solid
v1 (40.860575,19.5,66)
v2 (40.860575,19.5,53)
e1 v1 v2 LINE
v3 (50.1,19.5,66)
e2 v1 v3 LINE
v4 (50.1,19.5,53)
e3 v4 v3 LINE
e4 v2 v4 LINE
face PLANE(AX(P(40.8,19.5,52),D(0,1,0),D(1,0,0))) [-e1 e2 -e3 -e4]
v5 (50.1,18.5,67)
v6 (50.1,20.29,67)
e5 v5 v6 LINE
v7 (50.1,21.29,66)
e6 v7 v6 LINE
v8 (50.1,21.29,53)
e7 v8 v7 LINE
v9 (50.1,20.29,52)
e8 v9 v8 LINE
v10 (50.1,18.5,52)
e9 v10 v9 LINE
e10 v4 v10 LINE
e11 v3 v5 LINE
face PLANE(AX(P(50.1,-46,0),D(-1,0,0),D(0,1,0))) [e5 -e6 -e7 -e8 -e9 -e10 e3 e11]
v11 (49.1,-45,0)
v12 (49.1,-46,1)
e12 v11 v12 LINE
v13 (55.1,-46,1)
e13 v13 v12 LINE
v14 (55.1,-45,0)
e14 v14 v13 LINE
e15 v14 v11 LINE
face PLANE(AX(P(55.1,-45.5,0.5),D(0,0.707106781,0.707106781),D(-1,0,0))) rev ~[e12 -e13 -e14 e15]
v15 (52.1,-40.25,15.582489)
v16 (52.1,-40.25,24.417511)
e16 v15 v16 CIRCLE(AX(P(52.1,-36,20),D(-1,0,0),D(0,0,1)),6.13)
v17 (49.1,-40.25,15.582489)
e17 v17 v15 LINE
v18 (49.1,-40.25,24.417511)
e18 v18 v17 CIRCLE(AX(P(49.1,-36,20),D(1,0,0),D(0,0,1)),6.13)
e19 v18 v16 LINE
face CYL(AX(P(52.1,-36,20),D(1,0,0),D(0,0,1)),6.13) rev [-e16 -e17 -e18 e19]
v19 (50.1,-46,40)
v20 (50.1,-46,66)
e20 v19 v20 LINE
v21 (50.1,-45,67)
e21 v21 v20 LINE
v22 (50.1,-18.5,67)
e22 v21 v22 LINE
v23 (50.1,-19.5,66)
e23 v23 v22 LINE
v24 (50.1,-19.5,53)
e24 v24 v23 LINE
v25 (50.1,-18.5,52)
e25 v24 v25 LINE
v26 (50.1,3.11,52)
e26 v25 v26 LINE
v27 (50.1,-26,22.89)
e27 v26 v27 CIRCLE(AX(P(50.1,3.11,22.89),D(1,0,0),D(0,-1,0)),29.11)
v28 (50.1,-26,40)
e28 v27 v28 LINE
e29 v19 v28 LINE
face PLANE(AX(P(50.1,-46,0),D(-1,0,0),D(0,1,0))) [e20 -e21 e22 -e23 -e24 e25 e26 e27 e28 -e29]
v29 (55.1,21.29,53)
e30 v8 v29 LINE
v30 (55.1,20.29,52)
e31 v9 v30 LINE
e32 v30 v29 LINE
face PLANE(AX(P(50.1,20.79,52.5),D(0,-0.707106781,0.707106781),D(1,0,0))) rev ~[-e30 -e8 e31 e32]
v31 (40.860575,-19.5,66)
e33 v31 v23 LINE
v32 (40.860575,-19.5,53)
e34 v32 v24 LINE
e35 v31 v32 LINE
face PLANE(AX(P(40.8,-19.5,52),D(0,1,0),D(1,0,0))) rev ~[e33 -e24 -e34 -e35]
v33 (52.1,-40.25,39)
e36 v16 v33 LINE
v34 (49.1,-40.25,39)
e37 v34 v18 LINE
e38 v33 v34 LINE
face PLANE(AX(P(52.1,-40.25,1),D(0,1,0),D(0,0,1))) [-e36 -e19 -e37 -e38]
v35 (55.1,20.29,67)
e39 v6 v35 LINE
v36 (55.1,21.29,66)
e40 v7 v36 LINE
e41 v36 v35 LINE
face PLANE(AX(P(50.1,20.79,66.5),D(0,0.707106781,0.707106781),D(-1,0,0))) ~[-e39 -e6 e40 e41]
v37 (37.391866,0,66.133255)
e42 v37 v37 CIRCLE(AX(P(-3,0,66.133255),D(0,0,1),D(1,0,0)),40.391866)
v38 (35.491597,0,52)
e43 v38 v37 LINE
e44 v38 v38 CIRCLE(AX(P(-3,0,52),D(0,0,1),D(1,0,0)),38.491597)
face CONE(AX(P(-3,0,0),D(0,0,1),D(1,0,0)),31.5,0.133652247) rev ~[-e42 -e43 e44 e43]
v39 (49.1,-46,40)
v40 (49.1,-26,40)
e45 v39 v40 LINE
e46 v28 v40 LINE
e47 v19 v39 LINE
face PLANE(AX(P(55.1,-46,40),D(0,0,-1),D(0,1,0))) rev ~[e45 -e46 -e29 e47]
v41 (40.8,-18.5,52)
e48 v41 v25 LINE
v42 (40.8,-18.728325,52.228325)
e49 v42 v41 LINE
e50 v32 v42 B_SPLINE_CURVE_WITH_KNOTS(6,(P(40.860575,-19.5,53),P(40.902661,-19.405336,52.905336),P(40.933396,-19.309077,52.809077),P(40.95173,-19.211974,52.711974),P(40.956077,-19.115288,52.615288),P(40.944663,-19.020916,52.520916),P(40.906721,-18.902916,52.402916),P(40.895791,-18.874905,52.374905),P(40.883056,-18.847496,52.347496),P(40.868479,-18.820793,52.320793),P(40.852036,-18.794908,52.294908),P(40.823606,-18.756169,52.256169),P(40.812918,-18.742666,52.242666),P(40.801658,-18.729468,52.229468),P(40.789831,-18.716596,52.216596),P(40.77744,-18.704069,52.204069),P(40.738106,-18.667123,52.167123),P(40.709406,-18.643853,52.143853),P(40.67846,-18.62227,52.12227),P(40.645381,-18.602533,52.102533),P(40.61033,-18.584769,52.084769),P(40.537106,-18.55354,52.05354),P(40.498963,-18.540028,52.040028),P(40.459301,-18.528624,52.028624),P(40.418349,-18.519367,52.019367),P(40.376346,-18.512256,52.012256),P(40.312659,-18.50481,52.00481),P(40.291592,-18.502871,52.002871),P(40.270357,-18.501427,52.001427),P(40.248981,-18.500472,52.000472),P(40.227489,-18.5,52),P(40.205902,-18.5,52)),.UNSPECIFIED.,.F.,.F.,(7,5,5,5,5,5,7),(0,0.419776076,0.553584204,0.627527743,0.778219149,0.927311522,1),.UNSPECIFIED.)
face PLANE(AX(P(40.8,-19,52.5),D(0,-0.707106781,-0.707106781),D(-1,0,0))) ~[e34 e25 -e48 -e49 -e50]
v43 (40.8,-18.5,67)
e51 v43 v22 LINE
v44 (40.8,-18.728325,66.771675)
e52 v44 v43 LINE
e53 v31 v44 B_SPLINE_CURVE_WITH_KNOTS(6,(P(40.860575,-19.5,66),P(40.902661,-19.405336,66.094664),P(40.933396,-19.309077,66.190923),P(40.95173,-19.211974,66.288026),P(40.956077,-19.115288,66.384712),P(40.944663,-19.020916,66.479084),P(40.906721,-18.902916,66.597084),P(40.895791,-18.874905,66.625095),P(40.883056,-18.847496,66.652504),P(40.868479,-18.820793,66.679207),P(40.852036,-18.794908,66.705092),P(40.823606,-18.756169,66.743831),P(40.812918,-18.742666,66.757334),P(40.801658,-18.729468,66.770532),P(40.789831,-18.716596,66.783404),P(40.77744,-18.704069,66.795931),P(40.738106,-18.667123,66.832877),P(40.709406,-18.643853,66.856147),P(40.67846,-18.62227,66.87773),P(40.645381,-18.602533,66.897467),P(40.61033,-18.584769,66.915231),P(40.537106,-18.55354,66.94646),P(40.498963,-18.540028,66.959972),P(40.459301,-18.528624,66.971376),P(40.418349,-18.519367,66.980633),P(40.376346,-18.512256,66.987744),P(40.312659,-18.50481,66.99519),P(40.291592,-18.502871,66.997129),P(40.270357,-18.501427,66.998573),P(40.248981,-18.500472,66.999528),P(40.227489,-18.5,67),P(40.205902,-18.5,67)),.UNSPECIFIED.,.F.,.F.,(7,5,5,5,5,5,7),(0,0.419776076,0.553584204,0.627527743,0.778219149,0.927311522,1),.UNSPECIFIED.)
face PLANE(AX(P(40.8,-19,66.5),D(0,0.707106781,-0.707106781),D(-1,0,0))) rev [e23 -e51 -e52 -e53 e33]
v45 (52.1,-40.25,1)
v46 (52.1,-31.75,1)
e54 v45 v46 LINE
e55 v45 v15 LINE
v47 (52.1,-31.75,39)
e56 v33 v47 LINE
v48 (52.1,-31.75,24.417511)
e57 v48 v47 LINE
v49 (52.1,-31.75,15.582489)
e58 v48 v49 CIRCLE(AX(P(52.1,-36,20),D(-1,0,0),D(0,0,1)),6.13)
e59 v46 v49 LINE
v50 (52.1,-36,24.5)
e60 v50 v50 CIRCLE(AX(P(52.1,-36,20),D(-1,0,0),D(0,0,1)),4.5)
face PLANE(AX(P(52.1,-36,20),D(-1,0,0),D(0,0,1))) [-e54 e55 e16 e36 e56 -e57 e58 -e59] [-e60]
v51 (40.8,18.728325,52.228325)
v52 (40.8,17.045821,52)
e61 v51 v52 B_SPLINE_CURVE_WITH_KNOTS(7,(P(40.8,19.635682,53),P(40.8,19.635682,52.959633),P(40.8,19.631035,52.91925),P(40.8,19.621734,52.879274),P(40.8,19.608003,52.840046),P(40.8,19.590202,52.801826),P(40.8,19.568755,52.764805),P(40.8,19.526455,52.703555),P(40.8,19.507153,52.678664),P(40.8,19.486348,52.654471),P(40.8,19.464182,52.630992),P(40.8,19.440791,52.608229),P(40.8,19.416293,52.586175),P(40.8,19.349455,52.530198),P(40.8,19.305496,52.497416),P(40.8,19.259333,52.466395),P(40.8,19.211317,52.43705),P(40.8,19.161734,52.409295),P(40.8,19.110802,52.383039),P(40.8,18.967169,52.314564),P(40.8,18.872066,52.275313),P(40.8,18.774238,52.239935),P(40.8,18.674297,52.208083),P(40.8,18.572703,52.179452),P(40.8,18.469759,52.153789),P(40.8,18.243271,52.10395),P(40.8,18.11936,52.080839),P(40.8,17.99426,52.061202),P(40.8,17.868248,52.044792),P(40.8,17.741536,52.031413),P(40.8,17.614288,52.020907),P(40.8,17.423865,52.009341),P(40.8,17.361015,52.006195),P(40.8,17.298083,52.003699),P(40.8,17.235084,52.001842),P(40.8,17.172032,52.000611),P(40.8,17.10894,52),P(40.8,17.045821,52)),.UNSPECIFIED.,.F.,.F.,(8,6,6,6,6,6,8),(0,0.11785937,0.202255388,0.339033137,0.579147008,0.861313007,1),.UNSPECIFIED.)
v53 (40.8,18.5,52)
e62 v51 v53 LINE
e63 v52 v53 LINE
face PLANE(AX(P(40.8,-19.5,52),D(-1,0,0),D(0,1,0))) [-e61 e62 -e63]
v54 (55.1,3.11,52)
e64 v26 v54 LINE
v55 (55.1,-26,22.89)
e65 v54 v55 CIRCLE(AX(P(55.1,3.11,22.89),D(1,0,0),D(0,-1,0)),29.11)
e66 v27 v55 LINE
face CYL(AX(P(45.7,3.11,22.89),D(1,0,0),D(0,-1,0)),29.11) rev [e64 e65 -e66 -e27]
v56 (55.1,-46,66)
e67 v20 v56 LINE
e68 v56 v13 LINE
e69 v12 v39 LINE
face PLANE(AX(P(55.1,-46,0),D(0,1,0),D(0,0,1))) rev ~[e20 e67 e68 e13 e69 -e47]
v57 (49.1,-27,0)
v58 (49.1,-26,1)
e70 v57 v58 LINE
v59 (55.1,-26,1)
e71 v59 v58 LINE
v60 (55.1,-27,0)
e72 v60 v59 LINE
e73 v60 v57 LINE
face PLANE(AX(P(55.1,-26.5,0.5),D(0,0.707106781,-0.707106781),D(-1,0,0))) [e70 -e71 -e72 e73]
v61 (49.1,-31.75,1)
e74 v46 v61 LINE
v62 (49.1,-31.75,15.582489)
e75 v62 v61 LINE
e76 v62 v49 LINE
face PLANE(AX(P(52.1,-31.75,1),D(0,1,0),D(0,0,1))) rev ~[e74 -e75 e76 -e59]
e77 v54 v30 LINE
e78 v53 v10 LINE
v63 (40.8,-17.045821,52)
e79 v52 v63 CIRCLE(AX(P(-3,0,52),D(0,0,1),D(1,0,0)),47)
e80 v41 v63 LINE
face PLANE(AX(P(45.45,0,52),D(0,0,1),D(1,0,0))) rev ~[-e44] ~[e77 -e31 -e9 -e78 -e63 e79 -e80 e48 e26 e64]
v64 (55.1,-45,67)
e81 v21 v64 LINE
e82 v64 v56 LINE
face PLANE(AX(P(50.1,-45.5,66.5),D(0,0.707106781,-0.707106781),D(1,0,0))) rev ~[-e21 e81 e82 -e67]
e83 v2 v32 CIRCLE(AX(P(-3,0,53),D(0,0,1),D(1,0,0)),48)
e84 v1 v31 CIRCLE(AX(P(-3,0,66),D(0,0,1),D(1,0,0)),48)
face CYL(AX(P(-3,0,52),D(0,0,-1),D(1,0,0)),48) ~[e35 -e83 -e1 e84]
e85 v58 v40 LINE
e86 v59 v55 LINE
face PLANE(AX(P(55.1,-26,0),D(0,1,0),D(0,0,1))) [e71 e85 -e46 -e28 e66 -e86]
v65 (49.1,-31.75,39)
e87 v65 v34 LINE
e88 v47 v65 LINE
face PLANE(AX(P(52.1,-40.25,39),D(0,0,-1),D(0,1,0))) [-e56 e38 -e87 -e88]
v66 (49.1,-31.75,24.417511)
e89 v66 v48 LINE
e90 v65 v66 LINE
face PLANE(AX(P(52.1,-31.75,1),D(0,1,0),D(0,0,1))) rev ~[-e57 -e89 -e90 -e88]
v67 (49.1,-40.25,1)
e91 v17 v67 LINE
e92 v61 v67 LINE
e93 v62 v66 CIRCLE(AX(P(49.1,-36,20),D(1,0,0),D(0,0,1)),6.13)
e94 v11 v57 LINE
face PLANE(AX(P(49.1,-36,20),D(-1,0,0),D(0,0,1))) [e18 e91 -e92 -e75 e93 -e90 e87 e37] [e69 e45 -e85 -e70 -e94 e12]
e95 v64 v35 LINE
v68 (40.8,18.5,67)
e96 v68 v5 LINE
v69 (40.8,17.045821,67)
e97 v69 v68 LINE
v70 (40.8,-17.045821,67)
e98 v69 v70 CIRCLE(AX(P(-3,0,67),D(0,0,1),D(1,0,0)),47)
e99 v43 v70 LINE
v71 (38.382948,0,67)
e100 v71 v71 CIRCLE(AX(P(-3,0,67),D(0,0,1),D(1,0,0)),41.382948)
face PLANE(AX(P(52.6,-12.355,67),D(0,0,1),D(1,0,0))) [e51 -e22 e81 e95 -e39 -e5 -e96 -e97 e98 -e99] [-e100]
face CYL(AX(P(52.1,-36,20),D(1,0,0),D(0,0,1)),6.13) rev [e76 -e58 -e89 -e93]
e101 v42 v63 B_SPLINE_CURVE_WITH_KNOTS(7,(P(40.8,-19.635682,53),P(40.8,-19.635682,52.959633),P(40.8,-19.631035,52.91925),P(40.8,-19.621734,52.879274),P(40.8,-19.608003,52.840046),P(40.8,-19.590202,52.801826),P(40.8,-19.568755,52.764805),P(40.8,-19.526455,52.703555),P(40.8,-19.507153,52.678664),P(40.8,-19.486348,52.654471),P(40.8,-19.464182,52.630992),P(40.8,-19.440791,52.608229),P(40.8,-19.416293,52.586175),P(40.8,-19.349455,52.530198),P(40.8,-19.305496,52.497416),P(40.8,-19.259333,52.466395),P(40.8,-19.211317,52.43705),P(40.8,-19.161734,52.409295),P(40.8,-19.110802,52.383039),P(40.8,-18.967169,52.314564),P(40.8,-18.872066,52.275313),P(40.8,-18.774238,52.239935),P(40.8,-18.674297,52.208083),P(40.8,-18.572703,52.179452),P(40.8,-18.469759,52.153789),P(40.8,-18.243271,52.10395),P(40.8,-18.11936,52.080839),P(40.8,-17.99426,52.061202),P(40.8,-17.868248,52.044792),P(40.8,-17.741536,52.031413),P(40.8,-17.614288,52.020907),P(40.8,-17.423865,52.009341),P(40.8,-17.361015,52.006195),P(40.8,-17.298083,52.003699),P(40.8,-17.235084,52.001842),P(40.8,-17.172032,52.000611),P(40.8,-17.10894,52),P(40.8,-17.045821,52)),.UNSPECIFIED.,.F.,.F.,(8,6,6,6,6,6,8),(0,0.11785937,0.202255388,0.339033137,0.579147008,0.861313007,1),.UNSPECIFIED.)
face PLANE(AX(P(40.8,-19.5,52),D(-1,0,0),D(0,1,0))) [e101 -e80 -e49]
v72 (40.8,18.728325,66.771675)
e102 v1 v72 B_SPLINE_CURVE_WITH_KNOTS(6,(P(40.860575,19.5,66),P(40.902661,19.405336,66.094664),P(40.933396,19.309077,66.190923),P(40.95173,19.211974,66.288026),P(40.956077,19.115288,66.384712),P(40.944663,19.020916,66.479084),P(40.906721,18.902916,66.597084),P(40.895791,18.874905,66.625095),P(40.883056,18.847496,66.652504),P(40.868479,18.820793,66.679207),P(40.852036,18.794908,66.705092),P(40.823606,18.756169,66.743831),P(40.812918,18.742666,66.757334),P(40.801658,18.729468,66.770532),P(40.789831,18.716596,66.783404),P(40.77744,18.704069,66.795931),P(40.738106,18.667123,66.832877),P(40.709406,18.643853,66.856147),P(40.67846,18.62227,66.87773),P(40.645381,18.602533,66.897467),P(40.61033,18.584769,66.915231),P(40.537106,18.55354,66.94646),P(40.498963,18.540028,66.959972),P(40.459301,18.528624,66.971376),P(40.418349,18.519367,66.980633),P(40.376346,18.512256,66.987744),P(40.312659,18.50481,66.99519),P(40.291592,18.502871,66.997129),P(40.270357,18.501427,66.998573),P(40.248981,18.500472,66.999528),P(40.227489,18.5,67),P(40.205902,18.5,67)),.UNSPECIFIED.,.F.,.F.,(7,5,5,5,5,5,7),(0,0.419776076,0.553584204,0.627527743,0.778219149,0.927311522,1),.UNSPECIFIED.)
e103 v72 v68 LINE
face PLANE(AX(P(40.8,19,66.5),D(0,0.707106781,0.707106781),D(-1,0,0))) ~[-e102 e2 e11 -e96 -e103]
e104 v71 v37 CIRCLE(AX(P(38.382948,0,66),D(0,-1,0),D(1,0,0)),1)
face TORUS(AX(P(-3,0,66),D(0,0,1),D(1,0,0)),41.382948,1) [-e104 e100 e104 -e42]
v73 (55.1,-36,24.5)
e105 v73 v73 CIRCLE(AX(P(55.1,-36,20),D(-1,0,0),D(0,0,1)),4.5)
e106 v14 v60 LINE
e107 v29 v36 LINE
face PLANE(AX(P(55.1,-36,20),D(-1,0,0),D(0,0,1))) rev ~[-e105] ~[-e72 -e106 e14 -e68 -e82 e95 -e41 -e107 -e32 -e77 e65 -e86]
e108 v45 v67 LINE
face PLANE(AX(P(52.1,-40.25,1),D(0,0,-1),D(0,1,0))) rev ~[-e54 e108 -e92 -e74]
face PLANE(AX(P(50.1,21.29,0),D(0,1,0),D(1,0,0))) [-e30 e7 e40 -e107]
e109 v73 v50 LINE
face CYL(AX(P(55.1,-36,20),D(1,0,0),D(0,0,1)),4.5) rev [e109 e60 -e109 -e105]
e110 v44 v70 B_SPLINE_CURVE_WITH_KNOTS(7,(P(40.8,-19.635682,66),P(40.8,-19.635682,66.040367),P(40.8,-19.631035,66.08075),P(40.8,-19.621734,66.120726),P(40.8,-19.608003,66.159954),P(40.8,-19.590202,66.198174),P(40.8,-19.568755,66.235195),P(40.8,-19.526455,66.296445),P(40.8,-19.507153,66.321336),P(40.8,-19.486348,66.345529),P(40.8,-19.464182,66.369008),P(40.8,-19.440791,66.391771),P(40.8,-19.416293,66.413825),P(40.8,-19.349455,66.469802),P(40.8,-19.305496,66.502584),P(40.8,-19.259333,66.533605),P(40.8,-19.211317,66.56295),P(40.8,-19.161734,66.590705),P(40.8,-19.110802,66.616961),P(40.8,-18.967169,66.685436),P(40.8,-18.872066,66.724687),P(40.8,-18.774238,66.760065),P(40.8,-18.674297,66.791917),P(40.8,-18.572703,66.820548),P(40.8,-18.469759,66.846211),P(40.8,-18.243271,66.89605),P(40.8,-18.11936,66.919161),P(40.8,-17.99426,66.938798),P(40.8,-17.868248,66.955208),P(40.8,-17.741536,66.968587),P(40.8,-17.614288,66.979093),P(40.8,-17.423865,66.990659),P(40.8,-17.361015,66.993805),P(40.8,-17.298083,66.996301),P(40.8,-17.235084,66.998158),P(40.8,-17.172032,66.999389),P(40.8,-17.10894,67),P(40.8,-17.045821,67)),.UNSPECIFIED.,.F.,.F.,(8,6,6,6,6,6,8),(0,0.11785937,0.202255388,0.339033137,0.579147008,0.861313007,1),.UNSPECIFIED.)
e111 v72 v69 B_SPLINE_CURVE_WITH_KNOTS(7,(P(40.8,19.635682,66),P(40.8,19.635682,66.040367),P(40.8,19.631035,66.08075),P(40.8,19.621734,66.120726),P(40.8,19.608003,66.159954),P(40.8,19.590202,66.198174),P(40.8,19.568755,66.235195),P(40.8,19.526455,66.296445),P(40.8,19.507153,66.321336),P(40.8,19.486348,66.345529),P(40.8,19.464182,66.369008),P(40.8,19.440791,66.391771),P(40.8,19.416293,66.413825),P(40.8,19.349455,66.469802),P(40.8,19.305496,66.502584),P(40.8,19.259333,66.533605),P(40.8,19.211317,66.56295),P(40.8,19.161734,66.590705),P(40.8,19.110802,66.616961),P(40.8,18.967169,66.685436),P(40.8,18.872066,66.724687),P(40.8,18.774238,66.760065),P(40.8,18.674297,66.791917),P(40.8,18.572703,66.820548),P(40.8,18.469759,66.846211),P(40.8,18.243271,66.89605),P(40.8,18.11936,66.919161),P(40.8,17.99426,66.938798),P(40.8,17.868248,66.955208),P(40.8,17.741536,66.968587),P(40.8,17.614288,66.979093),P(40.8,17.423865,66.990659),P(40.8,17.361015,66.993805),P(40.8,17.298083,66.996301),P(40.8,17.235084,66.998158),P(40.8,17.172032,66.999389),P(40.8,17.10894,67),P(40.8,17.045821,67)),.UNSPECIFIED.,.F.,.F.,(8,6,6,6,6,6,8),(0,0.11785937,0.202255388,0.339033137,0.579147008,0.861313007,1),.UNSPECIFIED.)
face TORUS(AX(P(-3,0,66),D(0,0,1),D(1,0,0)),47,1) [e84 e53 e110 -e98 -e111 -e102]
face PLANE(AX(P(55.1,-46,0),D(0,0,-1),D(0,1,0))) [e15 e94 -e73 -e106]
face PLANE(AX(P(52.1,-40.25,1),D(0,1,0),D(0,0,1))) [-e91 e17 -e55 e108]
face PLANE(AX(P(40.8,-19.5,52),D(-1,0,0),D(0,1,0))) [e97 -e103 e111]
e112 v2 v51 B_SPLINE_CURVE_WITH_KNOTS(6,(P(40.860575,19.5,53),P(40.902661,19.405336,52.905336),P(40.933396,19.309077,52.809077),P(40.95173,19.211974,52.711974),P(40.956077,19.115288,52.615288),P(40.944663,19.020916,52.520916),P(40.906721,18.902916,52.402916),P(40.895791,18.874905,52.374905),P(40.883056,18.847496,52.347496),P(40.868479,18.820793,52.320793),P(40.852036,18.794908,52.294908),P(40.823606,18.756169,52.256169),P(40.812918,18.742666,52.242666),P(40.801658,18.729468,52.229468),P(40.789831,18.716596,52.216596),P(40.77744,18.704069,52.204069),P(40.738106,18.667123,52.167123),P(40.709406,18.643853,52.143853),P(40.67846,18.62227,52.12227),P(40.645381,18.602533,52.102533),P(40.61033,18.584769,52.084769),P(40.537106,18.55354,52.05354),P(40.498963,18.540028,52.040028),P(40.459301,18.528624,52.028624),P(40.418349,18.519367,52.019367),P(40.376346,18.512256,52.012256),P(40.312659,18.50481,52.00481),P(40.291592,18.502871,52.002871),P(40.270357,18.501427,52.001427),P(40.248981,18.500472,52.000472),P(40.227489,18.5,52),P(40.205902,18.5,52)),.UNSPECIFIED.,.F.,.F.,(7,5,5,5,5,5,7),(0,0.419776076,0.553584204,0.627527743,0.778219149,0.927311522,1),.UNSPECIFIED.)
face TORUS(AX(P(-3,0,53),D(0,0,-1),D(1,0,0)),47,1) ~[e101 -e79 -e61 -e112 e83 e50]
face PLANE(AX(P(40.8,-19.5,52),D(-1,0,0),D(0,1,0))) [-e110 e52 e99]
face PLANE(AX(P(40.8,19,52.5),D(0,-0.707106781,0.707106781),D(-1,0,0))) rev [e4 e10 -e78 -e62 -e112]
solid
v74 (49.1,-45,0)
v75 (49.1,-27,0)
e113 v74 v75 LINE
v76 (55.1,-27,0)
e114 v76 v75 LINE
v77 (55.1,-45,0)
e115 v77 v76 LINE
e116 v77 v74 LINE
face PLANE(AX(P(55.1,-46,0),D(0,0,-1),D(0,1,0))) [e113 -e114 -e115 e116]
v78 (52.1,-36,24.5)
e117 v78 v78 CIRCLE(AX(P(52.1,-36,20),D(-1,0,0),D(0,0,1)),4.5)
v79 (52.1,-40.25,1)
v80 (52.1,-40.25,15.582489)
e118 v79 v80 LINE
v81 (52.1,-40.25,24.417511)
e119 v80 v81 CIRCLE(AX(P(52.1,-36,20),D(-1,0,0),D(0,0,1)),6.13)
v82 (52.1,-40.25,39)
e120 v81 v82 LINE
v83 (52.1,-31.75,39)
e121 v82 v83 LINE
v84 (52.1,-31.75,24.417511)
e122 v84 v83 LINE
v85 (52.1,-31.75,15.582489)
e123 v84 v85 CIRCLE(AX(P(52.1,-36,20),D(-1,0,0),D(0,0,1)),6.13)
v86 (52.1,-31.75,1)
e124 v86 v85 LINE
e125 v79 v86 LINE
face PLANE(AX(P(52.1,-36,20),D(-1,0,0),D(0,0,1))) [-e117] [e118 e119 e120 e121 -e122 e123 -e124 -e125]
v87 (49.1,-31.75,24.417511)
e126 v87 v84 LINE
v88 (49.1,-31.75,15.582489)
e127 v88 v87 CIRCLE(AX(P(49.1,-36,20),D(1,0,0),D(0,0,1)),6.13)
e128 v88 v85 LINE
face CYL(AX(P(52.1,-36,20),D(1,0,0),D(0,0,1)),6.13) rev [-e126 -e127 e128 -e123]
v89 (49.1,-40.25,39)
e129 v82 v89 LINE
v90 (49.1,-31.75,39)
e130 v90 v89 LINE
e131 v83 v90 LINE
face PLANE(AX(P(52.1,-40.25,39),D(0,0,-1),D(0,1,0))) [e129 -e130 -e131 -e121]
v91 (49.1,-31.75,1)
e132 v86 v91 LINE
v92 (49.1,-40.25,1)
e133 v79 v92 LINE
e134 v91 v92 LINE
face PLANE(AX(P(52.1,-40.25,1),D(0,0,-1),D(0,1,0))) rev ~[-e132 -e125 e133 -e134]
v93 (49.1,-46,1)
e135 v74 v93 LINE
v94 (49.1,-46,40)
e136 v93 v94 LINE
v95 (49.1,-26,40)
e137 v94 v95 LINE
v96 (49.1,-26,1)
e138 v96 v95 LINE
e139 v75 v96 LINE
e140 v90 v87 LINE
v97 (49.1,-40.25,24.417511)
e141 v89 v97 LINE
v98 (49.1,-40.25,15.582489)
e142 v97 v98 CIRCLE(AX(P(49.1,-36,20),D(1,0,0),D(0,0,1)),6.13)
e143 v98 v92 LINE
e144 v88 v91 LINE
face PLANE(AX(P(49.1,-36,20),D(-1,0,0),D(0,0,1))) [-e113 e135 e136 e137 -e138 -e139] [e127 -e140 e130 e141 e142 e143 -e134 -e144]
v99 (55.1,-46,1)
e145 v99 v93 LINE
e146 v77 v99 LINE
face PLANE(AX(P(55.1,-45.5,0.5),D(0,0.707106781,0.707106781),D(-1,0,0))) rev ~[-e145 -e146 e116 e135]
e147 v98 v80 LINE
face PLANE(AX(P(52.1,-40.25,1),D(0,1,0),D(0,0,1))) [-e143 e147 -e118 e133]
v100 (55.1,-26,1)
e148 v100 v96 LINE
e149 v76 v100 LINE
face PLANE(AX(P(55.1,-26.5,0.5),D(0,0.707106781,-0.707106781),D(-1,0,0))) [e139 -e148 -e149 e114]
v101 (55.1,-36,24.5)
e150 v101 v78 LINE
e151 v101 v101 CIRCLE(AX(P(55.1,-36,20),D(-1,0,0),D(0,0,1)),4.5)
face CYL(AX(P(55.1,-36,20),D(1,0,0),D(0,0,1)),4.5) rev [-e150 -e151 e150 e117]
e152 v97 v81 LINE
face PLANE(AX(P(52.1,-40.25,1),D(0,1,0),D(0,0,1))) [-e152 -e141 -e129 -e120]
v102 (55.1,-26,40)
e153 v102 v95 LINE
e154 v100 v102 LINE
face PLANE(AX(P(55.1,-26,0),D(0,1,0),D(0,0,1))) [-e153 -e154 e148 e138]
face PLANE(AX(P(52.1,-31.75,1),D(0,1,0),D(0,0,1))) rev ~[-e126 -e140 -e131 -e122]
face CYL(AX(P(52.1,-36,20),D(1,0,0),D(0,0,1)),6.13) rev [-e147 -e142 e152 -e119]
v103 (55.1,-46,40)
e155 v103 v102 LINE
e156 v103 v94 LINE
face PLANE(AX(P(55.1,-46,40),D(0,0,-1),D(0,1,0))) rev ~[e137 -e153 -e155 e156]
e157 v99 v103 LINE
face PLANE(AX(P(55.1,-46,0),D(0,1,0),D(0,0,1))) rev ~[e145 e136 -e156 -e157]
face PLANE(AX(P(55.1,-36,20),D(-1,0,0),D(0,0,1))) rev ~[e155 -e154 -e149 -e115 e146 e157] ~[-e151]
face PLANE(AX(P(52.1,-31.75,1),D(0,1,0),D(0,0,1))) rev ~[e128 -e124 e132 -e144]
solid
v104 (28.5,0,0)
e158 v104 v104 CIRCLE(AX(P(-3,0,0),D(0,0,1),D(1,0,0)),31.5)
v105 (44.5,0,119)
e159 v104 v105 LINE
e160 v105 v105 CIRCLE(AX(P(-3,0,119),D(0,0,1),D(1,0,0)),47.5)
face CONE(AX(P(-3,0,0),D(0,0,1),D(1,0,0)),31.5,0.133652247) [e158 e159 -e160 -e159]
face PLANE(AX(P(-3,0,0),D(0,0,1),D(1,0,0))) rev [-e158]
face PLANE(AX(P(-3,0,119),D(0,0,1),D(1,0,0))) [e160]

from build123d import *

# Parameters (mm, degrees)
BOX008_W               = 38
BOX008_H               = 8.5
BOX008_DEPTH           = 10
CYLINDER003_R          = 6.13
CYLINDER003_DEPTH      = 10
CYLINDER002_R          = 4.5
CYLINDER002_DEPTH      = 10
BOX007_W               = 40
BOX007_H               = 20
BOX007_DEPTH           = 6
CUT009_PLACEMENT_ANGLE = 90
CHAMFER005_SIZE        = 1
BOX005_W               = 38
BOX005_H               = 8.5
BOX005_DEPTH           = 10
CYLINDER001_R          = 6.13
CYLINDER001_DEPTH      = 10
CYLINDER_R             = 4.5
CYLINDER_DEPTH         = 10
BOX004_W               = 40
BOX004_H               = 20
BOX004_DEPTH           = 6
CUT005_PLACEMENT_ANGLE = 90
CHAMFER_SIZE           = 1
TUBE_R                 = 48
TUBE_R_2               = 38
TUBE_DEPTH             = 15
FILLET_R               = 1
BOX003_W               = 10.4
BOX003_H               = 58.22
BOX003_DEPTH           = 52
FILLET001_R            = 29.11
BOX002_W               = 6
BOX002_H               = 20
BOX002_DEPTH           = 40
BOX_W                  = 5
BOX_H                  = 67.29
BOX_DEPTH              = 67
CHAMFER004_SIZE        = 1
BOX006_W               = 9.3
BOX006_H               = 39
BOX006_DEPTH           = 15
CHAMFER003_SIZE        = 1


with BuildPart() as cup:
    # Cone001 → Cone001 (revolve)
    with BuildSketch(Plane(origin=(-3, 0, 0), x_dir=(1, 0, 0), z_dir=(0, -1, 0))):
        Polygon((0, 0), (31.5, 0), (47.5, 119), (0, 119), align=None)
    revolve(axis=Axis((-3, 0, 0), (0, 0, 1)))


with BuildPart() as cube008:
    # Box008 → Box008 (new body)
    with BuildSketch(Plane(origin=(-19, -4.25, 3), x_dir=(1, 0, 0), z_dir=(0, 0, 1))):
        with Locations((19, 4.25)):
            Rectangle(BOX008_W, BOX008_H)
    extrude(amount=BOX008_DEPTH)


with BuildPart() as cylinder003:
    # Cylinder003 → Cylinder003 (new body)
    with BuildSketch(Plane.XY.offset(3)):
        Circle(CYLINDER003_R)
    extrude(amount=CYLINDER003_DEPTH)


with BuildPart() as cylinder002:
    # Cylinder002 → Cylinder002 (new body)
    with BuildSketch(Plane.XY):
        Circle(CYLINDER002_R)
    extrude(amount=CYLINDER002_DEPTH)


with BuildPart() as servo_mount_standalone:
    # Box007 → Box007 (new body)
    with BuildSketch(Plane(origin=(-20, -10, 0), x_dir=(1, 0, 0), z_dir=(0, 0, 1))):
        with Locations((20, 10)):
            Rectangle(BOX007_W, BOX007_H)
    extrude(amount=BOX007_DEPTH)

    # Cut007: cut Cylinder002
    add(cylinder002.part, mode=Mode.SUBTRACT)

    # Cut008: cut Cylinder003
    add(cylinder003.part, mode=Mode.SUBTRACT)

    # Cut009: cut Cube008
    add(cube008.part, mode=Mode.SUBTRACT)


with BuildPart() as servo_mount_standalone_1:
    # Cut009 placement: moved
    add(servo_mount_standalone.part.moved(Location((55.1, -36, 20))).rotate(Axis((55.1, -36, 20), (0, -1, 0)), CUT009_PLACEMENT_ANGLE))

    # Chamfer005
    chamfer005_edges = [servo_mount_standalone_1.edges().sort_by_distance(p)[0] for p in [
        (52.1, -46, 0),
        (52.1, -26, 0),
    ]]
    chamfer(chamfer005_edges, length=CHAMFER005_SIZE)


with BuildPart() as cube005:
    # Box005 → Box005 (new body)
    with BuildSketch(Plane(origin=(-19, -4.25, 3), x_dir=(1, 0, 0), z_dir=(0, 0, 1))):
        with Locations((19, 4.25)):
            Rectangle(BOX005_W, BOX005_H)
    extrude(amount=BOX005_DEPTH)


with BuildPart() as cylinder001:
    # Cylinder001 → Cylinder001 (new body)
    with BuildSketch(Plane.XY.offset(3)):
        Circle(CYLINDER001_R)
    extrude(amount=CYLINDER001_DEPTH)


with BuildPart() as cylinder:
    # Cylinder → Cylinder (new body)
    with BuildSketch(Plane.XY):
        Circle(CYLINDER_R)
    extrude(amount=CYLINDER_DEPTH)


with BuildPart() as servo_mount:
    # Box004 → Box004 (new body)
    with BuildSketch(Plane(origin=(-20, -10, 0), x_dir=(1, 0, 0), z_dir=(0, 0, 1))):
        with Locations((20, 10)):
            Rectangle(BOX004_W, BOX004_H)
    extrude(amount=BOX004_DEPTH)

    # Cut003: cut Cylinder
    add(cylinder.part, mode=Mode.SUBTRACT)

    # Cut004: cut Cylinder001
    add(cylinder001.part, mode=Mode.SUBTRACT)

    # Cut005: cut Cube005
    add(cube005.part, mode=Mode.SUBTRACT)


with BuildPart() as servo_mount_1:
    # Cut005 placement: moved
    add(servo_mount.part.moved(Location((55.1, -36, 20))).rotate(Axis((55.1, -36, 20), (0, -1, 0)), CUT005_PLACEMENT_ANGLE))

    # Chamfer
    chamfer_edges = [servo_mount_1.edges().sort_by_distance(p)[0] for p in [
        (52.1, -46, 0),
        (52.1, -26, 0),
    ]]
    chamfer(chamfer_edges, length=CHAMFER_SIZE)


with BuildPart() as cup_mold:
    # Cone → Cone (revolve)
    with BuildSketch(Plane.XZ):
        Polygon((0, 0), (31.5, 0), (47.5, 119), (0, 119), align=None)
    revolve(axis=Axis((0, 0, 0), (0, 0, 1)))


with BuildPart() as rounded_holder:
    # Tube → Tube (new body)
    with BuildSketch(Plane.XY.offset(52)):
        Circle(TUBE_R)
        Circle(TUBE_R_2, mode=Mode.SUBTRACT)
    extrude(amount=TUBE_DEPTH)

    # Cut: cut Cup Mold
    add(cup_mold.part, mode=Mode.SUBTRACT)

    # Fillet
    fillet_edges = [rounded_holder.edges().sort_by_distance(p)[0] for p in [
        (-48, 0, 67),
        (-48, 0, 52),
        (-40.508403, 0, 67),
    ]]
    fillet(fillet_edges, radius=FILLET_R)


with BuildPart() as rounded_holder_1:
    # Fillet placement: moved
    add(rounded_holder.part.moved(Location((-3, 0, 0))))


with BuildPart() as fillet001:
    # Box003 → Box003 (new body)
    with BuildSketch(Plane(origin=(45.7, -26, 0), x_dir=(1, 0, 0), z_dir=(0, 0, 1))):
        with Locations((5.2, 29.11)):
            Rectangle(BOX003_W, BOX003_H)
    extrude(amount=BOX003_DEPTH)

    # Fillet001
    fillet001_edges = [fillet001.edges().sort_by_distance(p)[0] for p in [
        (50.9, -26, 52),
    ]]
    fillet(fillet001_edges, radius=FILLET001_R)


with BuildPart() as cube002:
    # Box002 → Box002 (new body)
    with BuildSketch(Plane(origin=(50.1, -46, 0), x_dir=(1, 0, 0), z_dir=(0, 0, 1))):
        with Locations((3, 10)):
            Rectangle(BOX002_W, BOX002_H)
    extrude(amount=BOX002_DEPTH)


with BuildPart() as chamfer004:
    # Box → Box (new body)
    with BuildSketch(Plane(origin=(50.1, -46, 0), x_dir=(1, 0, 0), z_dir=(0, 0, 1))):
        with Locations((2.5, 33.645)):
            Rectangle(BOX_W, BOX_H)
    extrude(amount=BOX_DEPTH)

    # Cut001: cut Cube002
    add(cube002.part, mode=Mode.SUBTRACT)

    # Cut006: cut Fillet001
    add(fillet001.part, mode=Mode.SUBTRACT)

    # Chamfer004
    chamfer004_edges = [chamfer004.edges().sort_by_distance(p)[0] for p in [
        (52.6, -46, 67),
        (52.6, 21.29, 67),
        (52.6, 21.29, 52),
    ]]
    chamfer(chamfer004_edges, length=CHAMFER004_SIZE)


with BuildPart() as complete_cup_holder:
    # Box006 → Box006 (new body)
    with BuildSketch(Plane(origin=(40.8, -19.5, 52), x_dir=(1, 0, 0), z_dir=(0, 0, 1))):
        with Locations((4.65, 19.5)):
            Rectangle(BOX006_W, BOX006_H)
    extrude(amount=BOX006_DEPTH)

    # Chamfer003
    chamfer003_edges = [complete_cup_holder.edges().sort_by_distance(p)[0] for p in [
        (45.45, -19.5, 52),
        (45.45, -19.5, 67),
        (45.45, 19.5, 52),
        (45.45, 19.5, 67),
    ]]
    chamfer(chamfer003_edges, length=CHAMFER003_SIZE)

    # Fusion: union Rounded Holder, Chamfer004
    add(rounded_holder_1.part)
    add(chamfer004.part)

    # Fusion001: union Servo Mount
    add(servo_mount_1.part)


solid = Compound([cup.part, servo_mount_standalone_1.part, complete_cup_holder.part])
